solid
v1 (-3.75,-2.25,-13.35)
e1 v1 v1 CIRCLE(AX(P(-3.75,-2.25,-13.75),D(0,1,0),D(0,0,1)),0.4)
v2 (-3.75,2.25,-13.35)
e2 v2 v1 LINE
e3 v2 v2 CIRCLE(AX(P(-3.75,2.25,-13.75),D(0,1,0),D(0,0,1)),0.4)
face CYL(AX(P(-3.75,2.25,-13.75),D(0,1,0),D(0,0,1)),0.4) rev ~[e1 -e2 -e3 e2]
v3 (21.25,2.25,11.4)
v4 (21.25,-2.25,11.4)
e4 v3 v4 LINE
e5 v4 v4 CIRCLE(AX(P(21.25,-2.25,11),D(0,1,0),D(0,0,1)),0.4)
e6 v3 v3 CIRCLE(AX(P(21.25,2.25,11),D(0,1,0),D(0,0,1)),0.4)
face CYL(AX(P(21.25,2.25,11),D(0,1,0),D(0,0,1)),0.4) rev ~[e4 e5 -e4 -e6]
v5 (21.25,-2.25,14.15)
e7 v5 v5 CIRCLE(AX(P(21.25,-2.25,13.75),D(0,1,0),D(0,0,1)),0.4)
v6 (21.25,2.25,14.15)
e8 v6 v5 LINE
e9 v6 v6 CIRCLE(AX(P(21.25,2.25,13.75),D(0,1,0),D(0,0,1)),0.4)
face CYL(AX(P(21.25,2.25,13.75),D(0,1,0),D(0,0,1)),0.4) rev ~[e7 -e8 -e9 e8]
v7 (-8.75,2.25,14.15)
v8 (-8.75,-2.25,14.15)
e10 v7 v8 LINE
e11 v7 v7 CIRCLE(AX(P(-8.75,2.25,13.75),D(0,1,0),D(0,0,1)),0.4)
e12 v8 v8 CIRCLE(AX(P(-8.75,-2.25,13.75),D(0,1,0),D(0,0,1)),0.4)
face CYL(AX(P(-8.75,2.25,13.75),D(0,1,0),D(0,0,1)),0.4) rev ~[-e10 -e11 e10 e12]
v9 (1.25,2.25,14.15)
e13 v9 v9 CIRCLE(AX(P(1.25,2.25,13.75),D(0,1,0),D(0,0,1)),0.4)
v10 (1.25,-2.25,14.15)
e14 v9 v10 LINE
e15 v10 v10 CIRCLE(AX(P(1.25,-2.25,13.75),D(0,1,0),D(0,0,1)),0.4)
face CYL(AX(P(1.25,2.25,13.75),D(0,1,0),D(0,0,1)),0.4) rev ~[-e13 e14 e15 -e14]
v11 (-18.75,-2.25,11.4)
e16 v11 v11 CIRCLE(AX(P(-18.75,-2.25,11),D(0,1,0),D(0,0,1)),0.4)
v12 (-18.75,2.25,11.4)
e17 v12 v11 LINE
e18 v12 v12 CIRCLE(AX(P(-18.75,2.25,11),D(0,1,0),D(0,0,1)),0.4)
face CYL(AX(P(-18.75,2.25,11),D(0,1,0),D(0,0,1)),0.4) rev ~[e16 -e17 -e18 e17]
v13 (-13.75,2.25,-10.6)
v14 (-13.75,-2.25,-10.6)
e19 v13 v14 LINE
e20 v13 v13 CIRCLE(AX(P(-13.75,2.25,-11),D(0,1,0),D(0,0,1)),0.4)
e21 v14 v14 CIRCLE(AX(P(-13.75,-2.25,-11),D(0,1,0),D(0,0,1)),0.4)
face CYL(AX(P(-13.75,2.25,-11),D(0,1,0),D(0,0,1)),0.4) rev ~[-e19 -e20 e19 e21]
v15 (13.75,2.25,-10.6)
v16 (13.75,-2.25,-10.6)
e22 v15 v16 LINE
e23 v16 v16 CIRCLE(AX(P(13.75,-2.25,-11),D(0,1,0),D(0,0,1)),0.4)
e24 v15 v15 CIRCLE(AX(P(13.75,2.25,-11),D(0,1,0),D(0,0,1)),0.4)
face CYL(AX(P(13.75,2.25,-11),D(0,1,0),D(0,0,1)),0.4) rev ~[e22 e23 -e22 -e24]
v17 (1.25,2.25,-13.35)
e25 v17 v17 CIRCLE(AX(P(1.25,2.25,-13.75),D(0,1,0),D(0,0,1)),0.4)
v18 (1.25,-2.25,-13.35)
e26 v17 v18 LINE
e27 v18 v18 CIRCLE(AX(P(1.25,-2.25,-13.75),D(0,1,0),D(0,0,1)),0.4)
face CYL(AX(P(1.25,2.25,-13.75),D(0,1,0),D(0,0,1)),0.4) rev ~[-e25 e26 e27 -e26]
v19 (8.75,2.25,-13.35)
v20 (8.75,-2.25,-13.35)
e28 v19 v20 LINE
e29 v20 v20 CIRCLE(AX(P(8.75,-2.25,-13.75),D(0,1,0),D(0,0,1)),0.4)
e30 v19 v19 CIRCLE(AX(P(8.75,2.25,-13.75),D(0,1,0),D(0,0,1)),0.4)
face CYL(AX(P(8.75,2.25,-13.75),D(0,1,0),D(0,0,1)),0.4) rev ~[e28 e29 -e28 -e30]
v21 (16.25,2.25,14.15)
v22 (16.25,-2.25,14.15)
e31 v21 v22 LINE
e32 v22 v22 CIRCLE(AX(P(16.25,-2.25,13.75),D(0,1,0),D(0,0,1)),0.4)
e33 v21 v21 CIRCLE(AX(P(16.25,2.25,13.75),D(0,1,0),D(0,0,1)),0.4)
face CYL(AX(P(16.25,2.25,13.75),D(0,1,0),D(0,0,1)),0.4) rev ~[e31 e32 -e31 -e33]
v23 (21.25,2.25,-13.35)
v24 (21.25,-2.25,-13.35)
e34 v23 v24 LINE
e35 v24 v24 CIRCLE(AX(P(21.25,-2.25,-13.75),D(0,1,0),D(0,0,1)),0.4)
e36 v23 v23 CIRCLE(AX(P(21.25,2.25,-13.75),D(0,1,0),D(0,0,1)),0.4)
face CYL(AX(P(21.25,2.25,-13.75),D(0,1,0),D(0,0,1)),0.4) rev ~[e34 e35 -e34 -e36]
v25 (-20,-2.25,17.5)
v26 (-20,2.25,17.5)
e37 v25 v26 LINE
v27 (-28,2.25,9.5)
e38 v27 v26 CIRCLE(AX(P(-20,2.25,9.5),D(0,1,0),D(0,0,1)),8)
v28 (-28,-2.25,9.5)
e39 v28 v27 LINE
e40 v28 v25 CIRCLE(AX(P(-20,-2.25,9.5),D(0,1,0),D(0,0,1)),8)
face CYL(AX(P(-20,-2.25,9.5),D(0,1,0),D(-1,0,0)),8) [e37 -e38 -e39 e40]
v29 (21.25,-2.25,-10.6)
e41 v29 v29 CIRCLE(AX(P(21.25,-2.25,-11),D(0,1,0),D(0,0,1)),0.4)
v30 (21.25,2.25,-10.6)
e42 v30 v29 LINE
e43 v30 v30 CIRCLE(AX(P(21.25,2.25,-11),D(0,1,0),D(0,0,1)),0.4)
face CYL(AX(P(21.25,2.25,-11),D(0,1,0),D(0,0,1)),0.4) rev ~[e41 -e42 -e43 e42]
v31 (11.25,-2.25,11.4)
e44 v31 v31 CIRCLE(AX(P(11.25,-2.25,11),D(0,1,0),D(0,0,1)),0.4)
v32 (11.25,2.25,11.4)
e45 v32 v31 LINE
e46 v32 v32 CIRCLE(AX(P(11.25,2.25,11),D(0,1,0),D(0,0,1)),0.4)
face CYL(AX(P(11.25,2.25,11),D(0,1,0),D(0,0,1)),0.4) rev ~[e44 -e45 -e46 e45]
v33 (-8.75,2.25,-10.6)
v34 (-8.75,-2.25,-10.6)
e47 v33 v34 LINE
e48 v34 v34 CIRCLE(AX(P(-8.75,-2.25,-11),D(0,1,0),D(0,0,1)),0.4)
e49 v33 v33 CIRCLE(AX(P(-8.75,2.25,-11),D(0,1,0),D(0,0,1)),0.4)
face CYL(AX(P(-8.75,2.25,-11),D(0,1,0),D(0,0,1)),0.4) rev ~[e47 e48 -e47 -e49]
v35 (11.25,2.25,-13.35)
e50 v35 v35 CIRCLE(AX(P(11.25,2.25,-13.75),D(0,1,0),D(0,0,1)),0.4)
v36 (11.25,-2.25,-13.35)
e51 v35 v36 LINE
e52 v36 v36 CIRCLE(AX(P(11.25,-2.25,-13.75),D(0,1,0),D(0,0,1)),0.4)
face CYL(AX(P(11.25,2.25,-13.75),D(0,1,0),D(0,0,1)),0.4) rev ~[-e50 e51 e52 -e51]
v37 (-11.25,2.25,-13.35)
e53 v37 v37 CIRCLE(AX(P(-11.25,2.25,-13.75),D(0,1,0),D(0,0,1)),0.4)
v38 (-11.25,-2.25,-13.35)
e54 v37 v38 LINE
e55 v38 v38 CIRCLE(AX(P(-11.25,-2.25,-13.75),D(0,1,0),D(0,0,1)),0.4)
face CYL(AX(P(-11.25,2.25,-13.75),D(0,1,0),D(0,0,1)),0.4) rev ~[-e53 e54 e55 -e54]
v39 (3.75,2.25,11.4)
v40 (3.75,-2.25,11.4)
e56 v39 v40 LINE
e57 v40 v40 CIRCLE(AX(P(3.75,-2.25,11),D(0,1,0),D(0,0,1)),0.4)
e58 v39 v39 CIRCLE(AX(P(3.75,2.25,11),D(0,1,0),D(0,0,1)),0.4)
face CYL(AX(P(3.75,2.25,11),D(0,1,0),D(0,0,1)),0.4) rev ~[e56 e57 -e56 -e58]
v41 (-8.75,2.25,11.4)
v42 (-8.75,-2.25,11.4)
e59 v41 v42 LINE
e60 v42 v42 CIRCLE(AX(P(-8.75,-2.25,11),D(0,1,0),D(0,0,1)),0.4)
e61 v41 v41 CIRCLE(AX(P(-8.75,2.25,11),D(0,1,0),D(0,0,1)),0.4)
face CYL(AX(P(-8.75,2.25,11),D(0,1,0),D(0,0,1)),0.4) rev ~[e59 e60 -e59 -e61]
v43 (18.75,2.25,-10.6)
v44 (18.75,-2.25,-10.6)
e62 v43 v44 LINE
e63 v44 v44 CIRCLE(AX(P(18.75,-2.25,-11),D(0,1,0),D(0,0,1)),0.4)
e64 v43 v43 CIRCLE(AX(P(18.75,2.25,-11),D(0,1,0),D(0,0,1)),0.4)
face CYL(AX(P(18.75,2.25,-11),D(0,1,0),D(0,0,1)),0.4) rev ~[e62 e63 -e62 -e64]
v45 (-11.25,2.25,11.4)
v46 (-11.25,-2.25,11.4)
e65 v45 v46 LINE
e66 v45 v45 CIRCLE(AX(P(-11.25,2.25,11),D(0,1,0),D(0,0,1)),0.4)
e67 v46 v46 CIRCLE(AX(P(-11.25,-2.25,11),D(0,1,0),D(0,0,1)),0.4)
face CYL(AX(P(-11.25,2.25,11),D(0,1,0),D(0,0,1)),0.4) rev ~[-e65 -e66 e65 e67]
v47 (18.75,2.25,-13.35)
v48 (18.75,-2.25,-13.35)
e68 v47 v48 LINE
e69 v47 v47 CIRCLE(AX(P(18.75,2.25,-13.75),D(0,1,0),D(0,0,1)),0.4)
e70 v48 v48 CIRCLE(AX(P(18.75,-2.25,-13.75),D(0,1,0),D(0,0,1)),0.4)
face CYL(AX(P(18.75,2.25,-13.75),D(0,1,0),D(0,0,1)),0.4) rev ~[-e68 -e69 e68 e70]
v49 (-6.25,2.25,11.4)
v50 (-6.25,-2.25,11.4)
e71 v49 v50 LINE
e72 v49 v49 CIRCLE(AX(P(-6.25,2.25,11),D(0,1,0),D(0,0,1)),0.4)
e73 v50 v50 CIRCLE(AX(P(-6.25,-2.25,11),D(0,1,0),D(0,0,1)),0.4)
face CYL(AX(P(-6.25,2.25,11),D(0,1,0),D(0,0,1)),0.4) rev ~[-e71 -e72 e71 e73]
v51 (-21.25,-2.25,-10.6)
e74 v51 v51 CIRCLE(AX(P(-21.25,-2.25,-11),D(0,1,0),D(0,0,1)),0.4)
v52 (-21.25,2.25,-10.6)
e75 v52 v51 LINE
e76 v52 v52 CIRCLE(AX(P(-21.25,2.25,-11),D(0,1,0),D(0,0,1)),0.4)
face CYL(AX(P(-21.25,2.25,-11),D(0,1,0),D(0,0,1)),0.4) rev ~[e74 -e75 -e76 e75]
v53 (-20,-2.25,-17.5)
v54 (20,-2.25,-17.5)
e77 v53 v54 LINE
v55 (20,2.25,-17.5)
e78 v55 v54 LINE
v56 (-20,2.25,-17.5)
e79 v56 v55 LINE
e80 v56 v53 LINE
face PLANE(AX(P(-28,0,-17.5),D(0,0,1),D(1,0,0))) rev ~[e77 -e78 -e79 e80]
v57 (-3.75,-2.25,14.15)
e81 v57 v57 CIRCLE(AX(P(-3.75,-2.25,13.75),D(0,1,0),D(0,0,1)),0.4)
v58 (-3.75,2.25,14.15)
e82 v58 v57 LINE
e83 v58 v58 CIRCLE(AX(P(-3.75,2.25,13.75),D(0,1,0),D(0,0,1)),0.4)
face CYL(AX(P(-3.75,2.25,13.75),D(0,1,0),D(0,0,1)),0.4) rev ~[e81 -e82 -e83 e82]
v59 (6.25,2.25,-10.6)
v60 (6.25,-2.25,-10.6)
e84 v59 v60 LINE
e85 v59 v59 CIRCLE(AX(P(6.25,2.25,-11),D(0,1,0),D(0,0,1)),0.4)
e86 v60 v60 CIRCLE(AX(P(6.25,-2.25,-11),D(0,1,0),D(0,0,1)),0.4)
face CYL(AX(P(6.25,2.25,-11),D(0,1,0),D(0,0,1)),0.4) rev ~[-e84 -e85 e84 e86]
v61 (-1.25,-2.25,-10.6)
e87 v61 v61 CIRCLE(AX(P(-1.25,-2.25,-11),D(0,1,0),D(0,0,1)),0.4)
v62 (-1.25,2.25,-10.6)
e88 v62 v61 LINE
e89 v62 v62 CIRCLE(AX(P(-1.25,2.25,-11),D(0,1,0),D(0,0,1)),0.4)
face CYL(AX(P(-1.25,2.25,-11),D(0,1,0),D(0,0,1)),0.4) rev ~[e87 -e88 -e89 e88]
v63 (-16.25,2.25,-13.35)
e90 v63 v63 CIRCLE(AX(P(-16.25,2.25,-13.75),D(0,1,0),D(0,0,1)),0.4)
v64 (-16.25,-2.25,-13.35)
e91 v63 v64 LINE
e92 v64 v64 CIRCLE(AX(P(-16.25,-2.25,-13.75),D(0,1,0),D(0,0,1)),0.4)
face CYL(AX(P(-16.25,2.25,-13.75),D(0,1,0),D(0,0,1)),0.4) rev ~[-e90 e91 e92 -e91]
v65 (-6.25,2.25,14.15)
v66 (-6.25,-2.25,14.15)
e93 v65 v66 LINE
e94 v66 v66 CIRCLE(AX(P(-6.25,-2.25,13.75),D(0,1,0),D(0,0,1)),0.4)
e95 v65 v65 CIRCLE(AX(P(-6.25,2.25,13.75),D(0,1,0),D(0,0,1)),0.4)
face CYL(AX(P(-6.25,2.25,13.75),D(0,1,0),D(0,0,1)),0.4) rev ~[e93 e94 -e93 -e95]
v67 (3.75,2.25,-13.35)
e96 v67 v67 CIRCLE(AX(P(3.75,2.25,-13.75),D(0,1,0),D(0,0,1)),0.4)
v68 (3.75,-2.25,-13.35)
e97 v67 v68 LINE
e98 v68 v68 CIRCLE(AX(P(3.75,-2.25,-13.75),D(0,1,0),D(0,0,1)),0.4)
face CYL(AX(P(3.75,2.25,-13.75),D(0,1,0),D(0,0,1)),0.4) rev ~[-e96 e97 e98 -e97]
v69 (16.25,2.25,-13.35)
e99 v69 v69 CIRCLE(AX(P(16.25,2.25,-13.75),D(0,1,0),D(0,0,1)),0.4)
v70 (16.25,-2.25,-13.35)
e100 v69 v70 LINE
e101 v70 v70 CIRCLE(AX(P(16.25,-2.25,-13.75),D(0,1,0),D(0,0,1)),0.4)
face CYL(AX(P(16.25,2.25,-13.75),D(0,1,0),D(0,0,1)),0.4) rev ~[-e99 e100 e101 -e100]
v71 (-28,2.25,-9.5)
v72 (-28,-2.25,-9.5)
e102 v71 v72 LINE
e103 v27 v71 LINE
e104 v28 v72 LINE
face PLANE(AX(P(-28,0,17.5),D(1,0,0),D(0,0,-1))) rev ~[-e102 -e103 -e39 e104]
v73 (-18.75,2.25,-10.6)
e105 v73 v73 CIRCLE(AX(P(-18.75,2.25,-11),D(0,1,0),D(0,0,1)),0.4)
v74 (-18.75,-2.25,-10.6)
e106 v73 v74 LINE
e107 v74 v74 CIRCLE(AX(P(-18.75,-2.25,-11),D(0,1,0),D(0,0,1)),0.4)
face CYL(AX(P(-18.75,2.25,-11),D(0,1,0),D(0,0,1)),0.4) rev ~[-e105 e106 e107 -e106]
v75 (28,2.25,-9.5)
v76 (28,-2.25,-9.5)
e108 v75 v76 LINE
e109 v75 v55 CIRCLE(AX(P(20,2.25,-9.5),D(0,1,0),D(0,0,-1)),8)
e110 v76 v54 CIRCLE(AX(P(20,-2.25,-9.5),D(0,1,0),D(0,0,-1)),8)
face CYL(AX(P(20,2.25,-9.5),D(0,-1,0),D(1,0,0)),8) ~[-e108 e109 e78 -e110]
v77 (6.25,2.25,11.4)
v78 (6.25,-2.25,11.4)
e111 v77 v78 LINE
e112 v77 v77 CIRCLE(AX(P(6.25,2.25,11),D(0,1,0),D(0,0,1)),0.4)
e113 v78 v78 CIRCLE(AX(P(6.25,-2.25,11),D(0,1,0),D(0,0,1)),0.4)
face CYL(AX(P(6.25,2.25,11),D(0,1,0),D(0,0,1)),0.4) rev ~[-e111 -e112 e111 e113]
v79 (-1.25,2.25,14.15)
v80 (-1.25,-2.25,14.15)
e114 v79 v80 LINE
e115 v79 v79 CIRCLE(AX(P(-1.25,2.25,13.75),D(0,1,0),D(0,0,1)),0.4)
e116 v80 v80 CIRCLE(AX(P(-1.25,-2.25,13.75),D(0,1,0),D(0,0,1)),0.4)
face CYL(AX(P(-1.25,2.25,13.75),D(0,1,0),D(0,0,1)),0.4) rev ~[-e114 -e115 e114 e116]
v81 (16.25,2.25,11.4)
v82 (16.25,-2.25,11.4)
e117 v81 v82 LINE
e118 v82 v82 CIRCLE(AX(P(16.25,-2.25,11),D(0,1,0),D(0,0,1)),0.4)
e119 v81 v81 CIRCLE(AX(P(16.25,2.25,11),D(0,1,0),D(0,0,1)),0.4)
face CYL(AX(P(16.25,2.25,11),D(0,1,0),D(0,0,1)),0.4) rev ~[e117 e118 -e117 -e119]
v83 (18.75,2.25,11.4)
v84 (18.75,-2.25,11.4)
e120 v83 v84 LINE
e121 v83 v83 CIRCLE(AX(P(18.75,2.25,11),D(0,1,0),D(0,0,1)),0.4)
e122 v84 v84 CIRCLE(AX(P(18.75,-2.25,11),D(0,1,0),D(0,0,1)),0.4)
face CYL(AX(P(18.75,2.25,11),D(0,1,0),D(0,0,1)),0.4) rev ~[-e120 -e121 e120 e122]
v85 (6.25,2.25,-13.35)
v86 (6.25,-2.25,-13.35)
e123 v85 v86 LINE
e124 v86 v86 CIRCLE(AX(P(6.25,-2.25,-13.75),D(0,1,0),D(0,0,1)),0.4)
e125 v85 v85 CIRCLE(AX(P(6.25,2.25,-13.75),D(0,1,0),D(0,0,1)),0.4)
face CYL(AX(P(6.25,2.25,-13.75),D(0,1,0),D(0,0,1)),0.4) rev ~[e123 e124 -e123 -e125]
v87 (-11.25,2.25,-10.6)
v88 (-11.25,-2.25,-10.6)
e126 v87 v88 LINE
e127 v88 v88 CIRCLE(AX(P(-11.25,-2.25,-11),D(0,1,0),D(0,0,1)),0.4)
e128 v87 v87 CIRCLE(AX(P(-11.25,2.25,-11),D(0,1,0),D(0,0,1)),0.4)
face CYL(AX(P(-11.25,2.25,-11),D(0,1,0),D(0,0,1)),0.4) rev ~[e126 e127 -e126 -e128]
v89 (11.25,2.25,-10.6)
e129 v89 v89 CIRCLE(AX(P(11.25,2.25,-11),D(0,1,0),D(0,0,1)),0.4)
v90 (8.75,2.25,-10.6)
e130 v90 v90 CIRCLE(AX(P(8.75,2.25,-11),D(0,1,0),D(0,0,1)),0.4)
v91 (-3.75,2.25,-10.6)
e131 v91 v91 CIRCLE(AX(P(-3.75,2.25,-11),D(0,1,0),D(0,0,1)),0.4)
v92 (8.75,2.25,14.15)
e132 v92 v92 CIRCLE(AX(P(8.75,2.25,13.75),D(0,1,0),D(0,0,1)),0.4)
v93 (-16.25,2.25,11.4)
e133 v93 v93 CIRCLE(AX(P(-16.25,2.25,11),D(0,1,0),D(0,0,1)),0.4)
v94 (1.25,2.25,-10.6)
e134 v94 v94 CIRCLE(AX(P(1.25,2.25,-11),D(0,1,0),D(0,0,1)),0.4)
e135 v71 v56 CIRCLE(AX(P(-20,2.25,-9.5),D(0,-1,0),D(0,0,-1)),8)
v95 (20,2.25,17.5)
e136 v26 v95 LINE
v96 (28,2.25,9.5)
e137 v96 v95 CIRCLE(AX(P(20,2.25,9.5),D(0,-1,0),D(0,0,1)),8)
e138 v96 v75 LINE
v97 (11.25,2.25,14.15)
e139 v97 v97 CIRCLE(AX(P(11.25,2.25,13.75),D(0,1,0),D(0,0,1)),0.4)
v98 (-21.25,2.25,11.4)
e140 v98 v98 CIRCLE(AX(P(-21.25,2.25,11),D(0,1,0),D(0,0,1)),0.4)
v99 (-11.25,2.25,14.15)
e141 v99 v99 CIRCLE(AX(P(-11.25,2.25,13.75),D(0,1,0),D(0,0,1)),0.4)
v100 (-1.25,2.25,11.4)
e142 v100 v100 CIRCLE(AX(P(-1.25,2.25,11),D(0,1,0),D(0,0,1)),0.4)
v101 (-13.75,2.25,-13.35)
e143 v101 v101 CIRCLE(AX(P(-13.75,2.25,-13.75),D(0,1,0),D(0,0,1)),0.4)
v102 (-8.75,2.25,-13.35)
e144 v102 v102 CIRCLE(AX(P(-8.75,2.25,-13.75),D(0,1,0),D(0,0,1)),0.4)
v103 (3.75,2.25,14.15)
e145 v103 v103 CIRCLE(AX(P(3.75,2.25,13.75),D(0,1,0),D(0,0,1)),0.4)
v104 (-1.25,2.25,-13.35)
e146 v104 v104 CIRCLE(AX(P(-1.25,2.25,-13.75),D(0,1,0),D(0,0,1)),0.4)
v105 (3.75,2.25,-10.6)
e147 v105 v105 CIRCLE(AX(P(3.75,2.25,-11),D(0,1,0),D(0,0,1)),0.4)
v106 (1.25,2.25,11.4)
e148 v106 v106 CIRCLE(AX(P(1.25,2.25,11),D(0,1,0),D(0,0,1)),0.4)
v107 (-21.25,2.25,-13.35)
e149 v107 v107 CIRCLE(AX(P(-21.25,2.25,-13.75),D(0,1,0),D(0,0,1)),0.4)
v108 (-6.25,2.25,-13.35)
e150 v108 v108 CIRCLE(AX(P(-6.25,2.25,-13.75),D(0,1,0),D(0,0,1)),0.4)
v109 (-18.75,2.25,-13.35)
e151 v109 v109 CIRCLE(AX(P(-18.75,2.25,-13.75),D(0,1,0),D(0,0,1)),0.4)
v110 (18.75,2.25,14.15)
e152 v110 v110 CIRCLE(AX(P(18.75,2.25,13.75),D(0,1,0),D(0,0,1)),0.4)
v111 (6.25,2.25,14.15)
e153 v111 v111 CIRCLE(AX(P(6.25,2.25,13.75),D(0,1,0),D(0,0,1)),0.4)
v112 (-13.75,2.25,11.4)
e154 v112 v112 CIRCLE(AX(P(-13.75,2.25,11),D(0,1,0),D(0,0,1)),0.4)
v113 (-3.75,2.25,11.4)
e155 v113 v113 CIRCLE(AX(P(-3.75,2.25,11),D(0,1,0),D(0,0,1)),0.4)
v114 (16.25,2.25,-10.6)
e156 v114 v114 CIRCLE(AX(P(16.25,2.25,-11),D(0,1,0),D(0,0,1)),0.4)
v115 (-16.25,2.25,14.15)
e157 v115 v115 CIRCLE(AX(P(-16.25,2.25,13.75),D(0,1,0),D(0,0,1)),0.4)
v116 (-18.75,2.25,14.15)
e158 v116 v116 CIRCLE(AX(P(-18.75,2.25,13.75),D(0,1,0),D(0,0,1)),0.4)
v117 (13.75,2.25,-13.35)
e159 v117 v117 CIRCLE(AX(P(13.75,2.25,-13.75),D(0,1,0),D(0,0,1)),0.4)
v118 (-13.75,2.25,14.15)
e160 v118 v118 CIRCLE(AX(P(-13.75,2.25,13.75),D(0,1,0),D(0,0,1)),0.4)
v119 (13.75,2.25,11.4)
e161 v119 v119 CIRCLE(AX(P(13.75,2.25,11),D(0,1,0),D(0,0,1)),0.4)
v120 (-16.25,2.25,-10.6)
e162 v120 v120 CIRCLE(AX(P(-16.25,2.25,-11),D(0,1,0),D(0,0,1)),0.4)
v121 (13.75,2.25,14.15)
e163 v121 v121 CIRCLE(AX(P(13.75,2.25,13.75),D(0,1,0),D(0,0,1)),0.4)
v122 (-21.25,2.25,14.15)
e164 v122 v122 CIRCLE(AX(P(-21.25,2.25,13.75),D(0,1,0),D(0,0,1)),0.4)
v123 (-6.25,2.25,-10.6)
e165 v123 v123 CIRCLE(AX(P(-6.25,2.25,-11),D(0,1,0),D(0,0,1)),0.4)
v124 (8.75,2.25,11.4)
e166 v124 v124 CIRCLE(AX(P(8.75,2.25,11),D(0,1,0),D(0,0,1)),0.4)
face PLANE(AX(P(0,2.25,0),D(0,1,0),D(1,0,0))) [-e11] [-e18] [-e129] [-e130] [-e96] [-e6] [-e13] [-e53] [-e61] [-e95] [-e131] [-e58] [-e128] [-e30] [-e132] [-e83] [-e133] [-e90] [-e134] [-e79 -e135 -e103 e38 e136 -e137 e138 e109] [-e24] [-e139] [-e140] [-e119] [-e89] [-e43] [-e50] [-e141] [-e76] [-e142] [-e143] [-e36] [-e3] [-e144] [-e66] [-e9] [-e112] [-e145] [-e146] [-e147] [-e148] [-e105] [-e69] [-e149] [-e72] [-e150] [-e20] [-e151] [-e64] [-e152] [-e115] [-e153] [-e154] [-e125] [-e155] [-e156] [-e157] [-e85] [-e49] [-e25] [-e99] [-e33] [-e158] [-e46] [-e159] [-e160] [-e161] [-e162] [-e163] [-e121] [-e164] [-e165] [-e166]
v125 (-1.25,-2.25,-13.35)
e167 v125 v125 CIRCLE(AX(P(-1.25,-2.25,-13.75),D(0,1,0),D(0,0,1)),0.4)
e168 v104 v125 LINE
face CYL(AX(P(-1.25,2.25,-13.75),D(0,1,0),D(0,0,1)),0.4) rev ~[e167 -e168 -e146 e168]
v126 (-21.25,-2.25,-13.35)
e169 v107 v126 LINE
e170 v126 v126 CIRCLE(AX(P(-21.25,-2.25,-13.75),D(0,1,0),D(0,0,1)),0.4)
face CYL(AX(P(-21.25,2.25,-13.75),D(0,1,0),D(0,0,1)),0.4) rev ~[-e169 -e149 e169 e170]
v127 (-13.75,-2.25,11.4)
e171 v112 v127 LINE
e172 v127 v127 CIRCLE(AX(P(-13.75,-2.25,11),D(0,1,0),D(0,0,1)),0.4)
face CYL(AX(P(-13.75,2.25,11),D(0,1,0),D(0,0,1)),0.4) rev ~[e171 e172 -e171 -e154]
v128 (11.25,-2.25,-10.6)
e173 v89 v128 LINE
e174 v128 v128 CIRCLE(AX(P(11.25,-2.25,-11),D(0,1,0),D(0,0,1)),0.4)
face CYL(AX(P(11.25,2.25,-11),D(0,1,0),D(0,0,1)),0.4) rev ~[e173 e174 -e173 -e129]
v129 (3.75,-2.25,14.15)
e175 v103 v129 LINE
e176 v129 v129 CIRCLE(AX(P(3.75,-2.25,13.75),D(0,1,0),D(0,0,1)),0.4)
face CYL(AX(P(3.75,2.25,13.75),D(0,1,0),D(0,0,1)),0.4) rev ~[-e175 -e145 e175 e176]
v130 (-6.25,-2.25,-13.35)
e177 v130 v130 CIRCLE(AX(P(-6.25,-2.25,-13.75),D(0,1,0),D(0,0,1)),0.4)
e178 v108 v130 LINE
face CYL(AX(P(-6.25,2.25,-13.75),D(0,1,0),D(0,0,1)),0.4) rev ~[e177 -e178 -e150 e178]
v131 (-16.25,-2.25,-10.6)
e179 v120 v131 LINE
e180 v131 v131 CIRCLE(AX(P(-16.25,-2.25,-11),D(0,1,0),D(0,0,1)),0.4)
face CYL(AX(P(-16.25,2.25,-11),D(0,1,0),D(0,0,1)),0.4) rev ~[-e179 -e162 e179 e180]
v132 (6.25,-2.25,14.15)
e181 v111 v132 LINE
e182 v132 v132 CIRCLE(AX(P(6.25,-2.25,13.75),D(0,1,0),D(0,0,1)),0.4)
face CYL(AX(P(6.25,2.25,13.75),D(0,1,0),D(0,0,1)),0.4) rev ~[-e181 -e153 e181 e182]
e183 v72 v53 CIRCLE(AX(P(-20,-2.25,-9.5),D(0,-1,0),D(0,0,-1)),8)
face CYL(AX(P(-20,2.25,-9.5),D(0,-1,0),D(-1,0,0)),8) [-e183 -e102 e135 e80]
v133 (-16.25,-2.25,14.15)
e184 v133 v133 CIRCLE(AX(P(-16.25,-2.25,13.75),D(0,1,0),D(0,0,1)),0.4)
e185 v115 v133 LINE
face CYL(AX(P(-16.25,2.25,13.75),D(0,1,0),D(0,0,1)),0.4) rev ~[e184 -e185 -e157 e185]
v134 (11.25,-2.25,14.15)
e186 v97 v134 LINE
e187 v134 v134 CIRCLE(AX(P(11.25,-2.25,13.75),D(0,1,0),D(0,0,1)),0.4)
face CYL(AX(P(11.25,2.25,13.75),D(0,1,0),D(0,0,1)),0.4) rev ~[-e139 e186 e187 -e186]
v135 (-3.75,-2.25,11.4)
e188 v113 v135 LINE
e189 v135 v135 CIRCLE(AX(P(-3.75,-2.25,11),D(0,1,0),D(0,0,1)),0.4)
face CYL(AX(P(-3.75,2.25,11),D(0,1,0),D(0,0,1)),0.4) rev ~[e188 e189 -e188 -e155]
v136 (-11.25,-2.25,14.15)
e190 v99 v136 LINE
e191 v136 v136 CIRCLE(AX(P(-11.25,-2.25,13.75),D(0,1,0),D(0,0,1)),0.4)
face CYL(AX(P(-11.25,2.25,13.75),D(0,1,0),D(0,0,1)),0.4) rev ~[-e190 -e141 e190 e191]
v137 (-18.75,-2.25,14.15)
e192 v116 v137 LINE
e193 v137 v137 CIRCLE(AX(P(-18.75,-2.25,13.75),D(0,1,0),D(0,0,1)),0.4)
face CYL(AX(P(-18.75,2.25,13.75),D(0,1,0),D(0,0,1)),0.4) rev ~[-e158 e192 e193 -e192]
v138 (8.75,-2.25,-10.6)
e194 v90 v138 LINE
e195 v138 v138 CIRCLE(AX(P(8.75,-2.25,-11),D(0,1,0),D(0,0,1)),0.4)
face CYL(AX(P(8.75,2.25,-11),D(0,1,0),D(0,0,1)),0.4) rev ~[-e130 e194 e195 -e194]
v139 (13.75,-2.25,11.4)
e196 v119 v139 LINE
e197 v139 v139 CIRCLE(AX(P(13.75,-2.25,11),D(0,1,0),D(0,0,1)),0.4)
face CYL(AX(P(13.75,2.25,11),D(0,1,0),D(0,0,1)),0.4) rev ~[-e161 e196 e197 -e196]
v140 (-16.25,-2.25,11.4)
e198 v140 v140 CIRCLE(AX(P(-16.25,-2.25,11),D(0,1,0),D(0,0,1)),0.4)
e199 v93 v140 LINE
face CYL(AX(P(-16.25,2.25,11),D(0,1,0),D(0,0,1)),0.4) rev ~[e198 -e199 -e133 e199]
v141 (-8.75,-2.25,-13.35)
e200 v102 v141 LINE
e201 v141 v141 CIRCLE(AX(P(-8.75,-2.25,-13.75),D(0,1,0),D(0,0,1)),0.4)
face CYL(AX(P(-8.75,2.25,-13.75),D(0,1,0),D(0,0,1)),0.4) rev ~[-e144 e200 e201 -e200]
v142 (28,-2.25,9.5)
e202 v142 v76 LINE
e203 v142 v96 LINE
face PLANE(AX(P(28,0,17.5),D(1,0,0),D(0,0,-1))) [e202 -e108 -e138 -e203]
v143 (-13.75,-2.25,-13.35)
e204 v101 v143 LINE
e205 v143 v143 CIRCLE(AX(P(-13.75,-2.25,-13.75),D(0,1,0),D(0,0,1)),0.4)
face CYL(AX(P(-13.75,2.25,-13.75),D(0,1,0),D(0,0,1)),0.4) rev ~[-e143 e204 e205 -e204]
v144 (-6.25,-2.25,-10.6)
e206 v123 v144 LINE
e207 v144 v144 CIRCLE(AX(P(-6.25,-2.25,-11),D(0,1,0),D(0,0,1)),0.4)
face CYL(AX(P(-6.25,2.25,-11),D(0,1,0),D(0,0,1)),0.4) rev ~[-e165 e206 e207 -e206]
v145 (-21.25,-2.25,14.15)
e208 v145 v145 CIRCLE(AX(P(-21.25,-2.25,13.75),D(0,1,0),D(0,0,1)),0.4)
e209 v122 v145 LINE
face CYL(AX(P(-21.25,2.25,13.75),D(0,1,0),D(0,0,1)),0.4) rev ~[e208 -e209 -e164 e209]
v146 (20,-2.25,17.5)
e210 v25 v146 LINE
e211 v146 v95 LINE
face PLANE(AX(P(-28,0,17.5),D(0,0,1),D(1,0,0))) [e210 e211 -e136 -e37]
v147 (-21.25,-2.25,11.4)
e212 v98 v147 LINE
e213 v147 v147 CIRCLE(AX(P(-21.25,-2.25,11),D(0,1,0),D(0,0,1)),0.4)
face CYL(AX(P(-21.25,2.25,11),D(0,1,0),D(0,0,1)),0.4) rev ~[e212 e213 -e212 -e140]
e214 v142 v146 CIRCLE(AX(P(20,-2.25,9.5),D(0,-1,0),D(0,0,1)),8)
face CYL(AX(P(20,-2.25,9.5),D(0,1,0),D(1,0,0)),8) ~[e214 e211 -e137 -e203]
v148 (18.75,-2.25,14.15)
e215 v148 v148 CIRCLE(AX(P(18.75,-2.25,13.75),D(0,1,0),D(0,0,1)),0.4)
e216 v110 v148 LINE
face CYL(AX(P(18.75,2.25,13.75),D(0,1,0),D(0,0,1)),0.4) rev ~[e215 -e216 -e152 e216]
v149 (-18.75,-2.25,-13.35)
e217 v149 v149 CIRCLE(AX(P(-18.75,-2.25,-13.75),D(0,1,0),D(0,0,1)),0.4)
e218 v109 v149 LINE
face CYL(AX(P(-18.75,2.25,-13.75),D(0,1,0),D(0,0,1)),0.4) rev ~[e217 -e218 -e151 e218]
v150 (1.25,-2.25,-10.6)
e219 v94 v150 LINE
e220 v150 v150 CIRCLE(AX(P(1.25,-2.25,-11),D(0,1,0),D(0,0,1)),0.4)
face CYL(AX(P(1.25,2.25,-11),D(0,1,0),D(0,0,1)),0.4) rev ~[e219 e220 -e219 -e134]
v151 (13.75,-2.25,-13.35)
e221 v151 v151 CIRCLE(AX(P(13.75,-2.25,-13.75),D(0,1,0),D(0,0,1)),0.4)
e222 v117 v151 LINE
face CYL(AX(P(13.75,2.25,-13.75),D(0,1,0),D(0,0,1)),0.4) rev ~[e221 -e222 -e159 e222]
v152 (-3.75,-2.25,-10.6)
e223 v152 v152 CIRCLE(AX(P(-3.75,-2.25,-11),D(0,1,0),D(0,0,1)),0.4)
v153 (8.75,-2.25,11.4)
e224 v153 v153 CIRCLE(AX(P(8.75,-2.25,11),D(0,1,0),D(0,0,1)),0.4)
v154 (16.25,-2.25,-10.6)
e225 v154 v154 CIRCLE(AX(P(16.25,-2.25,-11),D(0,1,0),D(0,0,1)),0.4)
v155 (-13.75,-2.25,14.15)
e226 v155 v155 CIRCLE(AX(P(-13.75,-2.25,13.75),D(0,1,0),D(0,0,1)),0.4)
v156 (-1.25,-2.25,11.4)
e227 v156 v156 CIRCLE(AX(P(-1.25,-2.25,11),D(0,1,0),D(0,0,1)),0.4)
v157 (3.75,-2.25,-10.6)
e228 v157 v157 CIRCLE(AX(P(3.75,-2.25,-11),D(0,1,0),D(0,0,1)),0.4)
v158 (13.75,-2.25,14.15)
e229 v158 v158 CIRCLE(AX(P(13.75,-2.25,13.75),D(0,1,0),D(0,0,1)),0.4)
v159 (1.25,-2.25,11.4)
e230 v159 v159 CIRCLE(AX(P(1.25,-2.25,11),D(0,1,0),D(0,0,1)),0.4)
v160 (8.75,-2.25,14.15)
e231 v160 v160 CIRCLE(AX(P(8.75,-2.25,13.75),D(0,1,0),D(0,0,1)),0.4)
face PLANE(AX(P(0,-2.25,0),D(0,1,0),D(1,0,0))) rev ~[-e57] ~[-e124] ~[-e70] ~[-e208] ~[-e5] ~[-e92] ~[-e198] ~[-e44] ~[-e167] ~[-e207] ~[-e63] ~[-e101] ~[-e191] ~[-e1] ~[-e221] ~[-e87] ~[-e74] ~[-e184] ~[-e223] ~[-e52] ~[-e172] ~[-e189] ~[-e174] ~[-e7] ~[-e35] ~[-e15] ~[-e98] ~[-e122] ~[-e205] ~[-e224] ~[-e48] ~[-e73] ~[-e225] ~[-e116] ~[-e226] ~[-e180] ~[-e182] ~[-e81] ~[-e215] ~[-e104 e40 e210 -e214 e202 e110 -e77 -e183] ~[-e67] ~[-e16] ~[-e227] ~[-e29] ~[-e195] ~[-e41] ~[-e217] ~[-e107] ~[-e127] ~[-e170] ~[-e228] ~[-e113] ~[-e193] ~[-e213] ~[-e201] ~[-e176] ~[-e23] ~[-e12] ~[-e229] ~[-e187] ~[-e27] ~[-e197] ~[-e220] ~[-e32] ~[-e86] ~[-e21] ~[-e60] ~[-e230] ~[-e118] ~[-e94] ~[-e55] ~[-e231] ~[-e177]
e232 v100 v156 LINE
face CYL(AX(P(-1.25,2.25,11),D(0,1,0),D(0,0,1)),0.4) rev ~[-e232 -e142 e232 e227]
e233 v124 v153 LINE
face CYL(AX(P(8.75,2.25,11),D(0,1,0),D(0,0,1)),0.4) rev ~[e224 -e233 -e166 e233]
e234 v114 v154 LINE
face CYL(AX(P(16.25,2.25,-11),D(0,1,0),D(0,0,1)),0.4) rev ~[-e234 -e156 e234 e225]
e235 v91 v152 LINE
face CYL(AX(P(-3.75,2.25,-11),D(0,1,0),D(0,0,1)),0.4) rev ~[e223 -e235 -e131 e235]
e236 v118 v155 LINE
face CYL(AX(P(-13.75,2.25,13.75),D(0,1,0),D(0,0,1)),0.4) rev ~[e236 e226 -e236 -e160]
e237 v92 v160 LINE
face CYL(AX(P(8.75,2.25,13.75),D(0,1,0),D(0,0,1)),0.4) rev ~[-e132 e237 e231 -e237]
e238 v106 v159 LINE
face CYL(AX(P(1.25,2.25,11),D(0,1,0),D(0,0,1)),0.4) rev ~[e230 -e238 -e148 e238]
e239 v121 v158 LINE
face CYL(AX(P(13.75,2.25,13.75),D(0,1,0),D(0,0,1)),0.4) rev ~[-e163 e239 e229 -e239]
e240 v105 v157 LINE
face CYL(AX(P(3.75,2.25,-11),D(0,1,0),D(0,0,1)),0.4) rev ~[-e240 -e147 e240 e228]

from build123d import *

# Parameters (mm, degrees)
SKETCH1_W           = 56
SKETCH1_H           = 35
BOSS_EXTRUDE1_DEPTH = 2.25
FILLET1_R           = 8
SKETCH2_R           = 0.4
CUT_EXTRUDE1_DEPTH  = 34.324165406
LPATTERN1_COUNT     = 18
LPATTERN1_PITCH     = 2.5


with BuildPart() as part:
    # Sketch1 → Boss-Extrude1 (new, symmetric)
    with BuildSketch(Plane(origin=(0, 0, 0), x_dir=(1, 0, 0), z_dir=(0, 1, 0))):
        Rectangle(SKETCH1_W, SKETCH1_H)
    extrude(amount=BOSS_EXTRUDE1_DEPTH, both=True)

    # Fillet1
    fillet1_edges = [part.edges().sort_by_distance(p)[0] for p in [
        (-28, 0, -17.5),
        (28, 0, -17.5),
        (28, 0, 17.5),
        (-28, 0, 17.5),
    ]]
    fillet(fillet1_edges, radius=FILLET1_R)

    # Sketch2 → Cut-Extrude1 (cut, through all)
    with BuildSketch(Plane(origin=(0, 2.25, 0), x_dir=(1, 0, 0), z_dir=(0, 1, 0))):
        with Locations(Location((21.25, 11, 0), (0, 0, 270))):
            Circle(SKETCH2_R)
        with Locations(Location((21.25, 13.75, 0), (0, 0, 270))):
            Circle(SKETCH2_R)
        with Locations(Location((21.25, -11, 0), (0, 0, 270))):
            Circle(SKETCH2_R)
        with Locations(Location((21.25, -13.75, 0), (0, 0, 270))):
            Circle(SKETCH2_R)
    cut_extrude1 = extrude(amount=-CUT_EXTRUDE1_DEPTH, mode=Mode.SUBTRACT)

    # LPattern1: Cut-Extrude1 ×18
    with Locations(*[(-i * LPATTERN1_PITCH, 0, 0) for i in range(1, LPATTERN1_COUNT)]):
        add(cut_extrude1, mode=Mode.SUBTRACT)


solid = part.part
